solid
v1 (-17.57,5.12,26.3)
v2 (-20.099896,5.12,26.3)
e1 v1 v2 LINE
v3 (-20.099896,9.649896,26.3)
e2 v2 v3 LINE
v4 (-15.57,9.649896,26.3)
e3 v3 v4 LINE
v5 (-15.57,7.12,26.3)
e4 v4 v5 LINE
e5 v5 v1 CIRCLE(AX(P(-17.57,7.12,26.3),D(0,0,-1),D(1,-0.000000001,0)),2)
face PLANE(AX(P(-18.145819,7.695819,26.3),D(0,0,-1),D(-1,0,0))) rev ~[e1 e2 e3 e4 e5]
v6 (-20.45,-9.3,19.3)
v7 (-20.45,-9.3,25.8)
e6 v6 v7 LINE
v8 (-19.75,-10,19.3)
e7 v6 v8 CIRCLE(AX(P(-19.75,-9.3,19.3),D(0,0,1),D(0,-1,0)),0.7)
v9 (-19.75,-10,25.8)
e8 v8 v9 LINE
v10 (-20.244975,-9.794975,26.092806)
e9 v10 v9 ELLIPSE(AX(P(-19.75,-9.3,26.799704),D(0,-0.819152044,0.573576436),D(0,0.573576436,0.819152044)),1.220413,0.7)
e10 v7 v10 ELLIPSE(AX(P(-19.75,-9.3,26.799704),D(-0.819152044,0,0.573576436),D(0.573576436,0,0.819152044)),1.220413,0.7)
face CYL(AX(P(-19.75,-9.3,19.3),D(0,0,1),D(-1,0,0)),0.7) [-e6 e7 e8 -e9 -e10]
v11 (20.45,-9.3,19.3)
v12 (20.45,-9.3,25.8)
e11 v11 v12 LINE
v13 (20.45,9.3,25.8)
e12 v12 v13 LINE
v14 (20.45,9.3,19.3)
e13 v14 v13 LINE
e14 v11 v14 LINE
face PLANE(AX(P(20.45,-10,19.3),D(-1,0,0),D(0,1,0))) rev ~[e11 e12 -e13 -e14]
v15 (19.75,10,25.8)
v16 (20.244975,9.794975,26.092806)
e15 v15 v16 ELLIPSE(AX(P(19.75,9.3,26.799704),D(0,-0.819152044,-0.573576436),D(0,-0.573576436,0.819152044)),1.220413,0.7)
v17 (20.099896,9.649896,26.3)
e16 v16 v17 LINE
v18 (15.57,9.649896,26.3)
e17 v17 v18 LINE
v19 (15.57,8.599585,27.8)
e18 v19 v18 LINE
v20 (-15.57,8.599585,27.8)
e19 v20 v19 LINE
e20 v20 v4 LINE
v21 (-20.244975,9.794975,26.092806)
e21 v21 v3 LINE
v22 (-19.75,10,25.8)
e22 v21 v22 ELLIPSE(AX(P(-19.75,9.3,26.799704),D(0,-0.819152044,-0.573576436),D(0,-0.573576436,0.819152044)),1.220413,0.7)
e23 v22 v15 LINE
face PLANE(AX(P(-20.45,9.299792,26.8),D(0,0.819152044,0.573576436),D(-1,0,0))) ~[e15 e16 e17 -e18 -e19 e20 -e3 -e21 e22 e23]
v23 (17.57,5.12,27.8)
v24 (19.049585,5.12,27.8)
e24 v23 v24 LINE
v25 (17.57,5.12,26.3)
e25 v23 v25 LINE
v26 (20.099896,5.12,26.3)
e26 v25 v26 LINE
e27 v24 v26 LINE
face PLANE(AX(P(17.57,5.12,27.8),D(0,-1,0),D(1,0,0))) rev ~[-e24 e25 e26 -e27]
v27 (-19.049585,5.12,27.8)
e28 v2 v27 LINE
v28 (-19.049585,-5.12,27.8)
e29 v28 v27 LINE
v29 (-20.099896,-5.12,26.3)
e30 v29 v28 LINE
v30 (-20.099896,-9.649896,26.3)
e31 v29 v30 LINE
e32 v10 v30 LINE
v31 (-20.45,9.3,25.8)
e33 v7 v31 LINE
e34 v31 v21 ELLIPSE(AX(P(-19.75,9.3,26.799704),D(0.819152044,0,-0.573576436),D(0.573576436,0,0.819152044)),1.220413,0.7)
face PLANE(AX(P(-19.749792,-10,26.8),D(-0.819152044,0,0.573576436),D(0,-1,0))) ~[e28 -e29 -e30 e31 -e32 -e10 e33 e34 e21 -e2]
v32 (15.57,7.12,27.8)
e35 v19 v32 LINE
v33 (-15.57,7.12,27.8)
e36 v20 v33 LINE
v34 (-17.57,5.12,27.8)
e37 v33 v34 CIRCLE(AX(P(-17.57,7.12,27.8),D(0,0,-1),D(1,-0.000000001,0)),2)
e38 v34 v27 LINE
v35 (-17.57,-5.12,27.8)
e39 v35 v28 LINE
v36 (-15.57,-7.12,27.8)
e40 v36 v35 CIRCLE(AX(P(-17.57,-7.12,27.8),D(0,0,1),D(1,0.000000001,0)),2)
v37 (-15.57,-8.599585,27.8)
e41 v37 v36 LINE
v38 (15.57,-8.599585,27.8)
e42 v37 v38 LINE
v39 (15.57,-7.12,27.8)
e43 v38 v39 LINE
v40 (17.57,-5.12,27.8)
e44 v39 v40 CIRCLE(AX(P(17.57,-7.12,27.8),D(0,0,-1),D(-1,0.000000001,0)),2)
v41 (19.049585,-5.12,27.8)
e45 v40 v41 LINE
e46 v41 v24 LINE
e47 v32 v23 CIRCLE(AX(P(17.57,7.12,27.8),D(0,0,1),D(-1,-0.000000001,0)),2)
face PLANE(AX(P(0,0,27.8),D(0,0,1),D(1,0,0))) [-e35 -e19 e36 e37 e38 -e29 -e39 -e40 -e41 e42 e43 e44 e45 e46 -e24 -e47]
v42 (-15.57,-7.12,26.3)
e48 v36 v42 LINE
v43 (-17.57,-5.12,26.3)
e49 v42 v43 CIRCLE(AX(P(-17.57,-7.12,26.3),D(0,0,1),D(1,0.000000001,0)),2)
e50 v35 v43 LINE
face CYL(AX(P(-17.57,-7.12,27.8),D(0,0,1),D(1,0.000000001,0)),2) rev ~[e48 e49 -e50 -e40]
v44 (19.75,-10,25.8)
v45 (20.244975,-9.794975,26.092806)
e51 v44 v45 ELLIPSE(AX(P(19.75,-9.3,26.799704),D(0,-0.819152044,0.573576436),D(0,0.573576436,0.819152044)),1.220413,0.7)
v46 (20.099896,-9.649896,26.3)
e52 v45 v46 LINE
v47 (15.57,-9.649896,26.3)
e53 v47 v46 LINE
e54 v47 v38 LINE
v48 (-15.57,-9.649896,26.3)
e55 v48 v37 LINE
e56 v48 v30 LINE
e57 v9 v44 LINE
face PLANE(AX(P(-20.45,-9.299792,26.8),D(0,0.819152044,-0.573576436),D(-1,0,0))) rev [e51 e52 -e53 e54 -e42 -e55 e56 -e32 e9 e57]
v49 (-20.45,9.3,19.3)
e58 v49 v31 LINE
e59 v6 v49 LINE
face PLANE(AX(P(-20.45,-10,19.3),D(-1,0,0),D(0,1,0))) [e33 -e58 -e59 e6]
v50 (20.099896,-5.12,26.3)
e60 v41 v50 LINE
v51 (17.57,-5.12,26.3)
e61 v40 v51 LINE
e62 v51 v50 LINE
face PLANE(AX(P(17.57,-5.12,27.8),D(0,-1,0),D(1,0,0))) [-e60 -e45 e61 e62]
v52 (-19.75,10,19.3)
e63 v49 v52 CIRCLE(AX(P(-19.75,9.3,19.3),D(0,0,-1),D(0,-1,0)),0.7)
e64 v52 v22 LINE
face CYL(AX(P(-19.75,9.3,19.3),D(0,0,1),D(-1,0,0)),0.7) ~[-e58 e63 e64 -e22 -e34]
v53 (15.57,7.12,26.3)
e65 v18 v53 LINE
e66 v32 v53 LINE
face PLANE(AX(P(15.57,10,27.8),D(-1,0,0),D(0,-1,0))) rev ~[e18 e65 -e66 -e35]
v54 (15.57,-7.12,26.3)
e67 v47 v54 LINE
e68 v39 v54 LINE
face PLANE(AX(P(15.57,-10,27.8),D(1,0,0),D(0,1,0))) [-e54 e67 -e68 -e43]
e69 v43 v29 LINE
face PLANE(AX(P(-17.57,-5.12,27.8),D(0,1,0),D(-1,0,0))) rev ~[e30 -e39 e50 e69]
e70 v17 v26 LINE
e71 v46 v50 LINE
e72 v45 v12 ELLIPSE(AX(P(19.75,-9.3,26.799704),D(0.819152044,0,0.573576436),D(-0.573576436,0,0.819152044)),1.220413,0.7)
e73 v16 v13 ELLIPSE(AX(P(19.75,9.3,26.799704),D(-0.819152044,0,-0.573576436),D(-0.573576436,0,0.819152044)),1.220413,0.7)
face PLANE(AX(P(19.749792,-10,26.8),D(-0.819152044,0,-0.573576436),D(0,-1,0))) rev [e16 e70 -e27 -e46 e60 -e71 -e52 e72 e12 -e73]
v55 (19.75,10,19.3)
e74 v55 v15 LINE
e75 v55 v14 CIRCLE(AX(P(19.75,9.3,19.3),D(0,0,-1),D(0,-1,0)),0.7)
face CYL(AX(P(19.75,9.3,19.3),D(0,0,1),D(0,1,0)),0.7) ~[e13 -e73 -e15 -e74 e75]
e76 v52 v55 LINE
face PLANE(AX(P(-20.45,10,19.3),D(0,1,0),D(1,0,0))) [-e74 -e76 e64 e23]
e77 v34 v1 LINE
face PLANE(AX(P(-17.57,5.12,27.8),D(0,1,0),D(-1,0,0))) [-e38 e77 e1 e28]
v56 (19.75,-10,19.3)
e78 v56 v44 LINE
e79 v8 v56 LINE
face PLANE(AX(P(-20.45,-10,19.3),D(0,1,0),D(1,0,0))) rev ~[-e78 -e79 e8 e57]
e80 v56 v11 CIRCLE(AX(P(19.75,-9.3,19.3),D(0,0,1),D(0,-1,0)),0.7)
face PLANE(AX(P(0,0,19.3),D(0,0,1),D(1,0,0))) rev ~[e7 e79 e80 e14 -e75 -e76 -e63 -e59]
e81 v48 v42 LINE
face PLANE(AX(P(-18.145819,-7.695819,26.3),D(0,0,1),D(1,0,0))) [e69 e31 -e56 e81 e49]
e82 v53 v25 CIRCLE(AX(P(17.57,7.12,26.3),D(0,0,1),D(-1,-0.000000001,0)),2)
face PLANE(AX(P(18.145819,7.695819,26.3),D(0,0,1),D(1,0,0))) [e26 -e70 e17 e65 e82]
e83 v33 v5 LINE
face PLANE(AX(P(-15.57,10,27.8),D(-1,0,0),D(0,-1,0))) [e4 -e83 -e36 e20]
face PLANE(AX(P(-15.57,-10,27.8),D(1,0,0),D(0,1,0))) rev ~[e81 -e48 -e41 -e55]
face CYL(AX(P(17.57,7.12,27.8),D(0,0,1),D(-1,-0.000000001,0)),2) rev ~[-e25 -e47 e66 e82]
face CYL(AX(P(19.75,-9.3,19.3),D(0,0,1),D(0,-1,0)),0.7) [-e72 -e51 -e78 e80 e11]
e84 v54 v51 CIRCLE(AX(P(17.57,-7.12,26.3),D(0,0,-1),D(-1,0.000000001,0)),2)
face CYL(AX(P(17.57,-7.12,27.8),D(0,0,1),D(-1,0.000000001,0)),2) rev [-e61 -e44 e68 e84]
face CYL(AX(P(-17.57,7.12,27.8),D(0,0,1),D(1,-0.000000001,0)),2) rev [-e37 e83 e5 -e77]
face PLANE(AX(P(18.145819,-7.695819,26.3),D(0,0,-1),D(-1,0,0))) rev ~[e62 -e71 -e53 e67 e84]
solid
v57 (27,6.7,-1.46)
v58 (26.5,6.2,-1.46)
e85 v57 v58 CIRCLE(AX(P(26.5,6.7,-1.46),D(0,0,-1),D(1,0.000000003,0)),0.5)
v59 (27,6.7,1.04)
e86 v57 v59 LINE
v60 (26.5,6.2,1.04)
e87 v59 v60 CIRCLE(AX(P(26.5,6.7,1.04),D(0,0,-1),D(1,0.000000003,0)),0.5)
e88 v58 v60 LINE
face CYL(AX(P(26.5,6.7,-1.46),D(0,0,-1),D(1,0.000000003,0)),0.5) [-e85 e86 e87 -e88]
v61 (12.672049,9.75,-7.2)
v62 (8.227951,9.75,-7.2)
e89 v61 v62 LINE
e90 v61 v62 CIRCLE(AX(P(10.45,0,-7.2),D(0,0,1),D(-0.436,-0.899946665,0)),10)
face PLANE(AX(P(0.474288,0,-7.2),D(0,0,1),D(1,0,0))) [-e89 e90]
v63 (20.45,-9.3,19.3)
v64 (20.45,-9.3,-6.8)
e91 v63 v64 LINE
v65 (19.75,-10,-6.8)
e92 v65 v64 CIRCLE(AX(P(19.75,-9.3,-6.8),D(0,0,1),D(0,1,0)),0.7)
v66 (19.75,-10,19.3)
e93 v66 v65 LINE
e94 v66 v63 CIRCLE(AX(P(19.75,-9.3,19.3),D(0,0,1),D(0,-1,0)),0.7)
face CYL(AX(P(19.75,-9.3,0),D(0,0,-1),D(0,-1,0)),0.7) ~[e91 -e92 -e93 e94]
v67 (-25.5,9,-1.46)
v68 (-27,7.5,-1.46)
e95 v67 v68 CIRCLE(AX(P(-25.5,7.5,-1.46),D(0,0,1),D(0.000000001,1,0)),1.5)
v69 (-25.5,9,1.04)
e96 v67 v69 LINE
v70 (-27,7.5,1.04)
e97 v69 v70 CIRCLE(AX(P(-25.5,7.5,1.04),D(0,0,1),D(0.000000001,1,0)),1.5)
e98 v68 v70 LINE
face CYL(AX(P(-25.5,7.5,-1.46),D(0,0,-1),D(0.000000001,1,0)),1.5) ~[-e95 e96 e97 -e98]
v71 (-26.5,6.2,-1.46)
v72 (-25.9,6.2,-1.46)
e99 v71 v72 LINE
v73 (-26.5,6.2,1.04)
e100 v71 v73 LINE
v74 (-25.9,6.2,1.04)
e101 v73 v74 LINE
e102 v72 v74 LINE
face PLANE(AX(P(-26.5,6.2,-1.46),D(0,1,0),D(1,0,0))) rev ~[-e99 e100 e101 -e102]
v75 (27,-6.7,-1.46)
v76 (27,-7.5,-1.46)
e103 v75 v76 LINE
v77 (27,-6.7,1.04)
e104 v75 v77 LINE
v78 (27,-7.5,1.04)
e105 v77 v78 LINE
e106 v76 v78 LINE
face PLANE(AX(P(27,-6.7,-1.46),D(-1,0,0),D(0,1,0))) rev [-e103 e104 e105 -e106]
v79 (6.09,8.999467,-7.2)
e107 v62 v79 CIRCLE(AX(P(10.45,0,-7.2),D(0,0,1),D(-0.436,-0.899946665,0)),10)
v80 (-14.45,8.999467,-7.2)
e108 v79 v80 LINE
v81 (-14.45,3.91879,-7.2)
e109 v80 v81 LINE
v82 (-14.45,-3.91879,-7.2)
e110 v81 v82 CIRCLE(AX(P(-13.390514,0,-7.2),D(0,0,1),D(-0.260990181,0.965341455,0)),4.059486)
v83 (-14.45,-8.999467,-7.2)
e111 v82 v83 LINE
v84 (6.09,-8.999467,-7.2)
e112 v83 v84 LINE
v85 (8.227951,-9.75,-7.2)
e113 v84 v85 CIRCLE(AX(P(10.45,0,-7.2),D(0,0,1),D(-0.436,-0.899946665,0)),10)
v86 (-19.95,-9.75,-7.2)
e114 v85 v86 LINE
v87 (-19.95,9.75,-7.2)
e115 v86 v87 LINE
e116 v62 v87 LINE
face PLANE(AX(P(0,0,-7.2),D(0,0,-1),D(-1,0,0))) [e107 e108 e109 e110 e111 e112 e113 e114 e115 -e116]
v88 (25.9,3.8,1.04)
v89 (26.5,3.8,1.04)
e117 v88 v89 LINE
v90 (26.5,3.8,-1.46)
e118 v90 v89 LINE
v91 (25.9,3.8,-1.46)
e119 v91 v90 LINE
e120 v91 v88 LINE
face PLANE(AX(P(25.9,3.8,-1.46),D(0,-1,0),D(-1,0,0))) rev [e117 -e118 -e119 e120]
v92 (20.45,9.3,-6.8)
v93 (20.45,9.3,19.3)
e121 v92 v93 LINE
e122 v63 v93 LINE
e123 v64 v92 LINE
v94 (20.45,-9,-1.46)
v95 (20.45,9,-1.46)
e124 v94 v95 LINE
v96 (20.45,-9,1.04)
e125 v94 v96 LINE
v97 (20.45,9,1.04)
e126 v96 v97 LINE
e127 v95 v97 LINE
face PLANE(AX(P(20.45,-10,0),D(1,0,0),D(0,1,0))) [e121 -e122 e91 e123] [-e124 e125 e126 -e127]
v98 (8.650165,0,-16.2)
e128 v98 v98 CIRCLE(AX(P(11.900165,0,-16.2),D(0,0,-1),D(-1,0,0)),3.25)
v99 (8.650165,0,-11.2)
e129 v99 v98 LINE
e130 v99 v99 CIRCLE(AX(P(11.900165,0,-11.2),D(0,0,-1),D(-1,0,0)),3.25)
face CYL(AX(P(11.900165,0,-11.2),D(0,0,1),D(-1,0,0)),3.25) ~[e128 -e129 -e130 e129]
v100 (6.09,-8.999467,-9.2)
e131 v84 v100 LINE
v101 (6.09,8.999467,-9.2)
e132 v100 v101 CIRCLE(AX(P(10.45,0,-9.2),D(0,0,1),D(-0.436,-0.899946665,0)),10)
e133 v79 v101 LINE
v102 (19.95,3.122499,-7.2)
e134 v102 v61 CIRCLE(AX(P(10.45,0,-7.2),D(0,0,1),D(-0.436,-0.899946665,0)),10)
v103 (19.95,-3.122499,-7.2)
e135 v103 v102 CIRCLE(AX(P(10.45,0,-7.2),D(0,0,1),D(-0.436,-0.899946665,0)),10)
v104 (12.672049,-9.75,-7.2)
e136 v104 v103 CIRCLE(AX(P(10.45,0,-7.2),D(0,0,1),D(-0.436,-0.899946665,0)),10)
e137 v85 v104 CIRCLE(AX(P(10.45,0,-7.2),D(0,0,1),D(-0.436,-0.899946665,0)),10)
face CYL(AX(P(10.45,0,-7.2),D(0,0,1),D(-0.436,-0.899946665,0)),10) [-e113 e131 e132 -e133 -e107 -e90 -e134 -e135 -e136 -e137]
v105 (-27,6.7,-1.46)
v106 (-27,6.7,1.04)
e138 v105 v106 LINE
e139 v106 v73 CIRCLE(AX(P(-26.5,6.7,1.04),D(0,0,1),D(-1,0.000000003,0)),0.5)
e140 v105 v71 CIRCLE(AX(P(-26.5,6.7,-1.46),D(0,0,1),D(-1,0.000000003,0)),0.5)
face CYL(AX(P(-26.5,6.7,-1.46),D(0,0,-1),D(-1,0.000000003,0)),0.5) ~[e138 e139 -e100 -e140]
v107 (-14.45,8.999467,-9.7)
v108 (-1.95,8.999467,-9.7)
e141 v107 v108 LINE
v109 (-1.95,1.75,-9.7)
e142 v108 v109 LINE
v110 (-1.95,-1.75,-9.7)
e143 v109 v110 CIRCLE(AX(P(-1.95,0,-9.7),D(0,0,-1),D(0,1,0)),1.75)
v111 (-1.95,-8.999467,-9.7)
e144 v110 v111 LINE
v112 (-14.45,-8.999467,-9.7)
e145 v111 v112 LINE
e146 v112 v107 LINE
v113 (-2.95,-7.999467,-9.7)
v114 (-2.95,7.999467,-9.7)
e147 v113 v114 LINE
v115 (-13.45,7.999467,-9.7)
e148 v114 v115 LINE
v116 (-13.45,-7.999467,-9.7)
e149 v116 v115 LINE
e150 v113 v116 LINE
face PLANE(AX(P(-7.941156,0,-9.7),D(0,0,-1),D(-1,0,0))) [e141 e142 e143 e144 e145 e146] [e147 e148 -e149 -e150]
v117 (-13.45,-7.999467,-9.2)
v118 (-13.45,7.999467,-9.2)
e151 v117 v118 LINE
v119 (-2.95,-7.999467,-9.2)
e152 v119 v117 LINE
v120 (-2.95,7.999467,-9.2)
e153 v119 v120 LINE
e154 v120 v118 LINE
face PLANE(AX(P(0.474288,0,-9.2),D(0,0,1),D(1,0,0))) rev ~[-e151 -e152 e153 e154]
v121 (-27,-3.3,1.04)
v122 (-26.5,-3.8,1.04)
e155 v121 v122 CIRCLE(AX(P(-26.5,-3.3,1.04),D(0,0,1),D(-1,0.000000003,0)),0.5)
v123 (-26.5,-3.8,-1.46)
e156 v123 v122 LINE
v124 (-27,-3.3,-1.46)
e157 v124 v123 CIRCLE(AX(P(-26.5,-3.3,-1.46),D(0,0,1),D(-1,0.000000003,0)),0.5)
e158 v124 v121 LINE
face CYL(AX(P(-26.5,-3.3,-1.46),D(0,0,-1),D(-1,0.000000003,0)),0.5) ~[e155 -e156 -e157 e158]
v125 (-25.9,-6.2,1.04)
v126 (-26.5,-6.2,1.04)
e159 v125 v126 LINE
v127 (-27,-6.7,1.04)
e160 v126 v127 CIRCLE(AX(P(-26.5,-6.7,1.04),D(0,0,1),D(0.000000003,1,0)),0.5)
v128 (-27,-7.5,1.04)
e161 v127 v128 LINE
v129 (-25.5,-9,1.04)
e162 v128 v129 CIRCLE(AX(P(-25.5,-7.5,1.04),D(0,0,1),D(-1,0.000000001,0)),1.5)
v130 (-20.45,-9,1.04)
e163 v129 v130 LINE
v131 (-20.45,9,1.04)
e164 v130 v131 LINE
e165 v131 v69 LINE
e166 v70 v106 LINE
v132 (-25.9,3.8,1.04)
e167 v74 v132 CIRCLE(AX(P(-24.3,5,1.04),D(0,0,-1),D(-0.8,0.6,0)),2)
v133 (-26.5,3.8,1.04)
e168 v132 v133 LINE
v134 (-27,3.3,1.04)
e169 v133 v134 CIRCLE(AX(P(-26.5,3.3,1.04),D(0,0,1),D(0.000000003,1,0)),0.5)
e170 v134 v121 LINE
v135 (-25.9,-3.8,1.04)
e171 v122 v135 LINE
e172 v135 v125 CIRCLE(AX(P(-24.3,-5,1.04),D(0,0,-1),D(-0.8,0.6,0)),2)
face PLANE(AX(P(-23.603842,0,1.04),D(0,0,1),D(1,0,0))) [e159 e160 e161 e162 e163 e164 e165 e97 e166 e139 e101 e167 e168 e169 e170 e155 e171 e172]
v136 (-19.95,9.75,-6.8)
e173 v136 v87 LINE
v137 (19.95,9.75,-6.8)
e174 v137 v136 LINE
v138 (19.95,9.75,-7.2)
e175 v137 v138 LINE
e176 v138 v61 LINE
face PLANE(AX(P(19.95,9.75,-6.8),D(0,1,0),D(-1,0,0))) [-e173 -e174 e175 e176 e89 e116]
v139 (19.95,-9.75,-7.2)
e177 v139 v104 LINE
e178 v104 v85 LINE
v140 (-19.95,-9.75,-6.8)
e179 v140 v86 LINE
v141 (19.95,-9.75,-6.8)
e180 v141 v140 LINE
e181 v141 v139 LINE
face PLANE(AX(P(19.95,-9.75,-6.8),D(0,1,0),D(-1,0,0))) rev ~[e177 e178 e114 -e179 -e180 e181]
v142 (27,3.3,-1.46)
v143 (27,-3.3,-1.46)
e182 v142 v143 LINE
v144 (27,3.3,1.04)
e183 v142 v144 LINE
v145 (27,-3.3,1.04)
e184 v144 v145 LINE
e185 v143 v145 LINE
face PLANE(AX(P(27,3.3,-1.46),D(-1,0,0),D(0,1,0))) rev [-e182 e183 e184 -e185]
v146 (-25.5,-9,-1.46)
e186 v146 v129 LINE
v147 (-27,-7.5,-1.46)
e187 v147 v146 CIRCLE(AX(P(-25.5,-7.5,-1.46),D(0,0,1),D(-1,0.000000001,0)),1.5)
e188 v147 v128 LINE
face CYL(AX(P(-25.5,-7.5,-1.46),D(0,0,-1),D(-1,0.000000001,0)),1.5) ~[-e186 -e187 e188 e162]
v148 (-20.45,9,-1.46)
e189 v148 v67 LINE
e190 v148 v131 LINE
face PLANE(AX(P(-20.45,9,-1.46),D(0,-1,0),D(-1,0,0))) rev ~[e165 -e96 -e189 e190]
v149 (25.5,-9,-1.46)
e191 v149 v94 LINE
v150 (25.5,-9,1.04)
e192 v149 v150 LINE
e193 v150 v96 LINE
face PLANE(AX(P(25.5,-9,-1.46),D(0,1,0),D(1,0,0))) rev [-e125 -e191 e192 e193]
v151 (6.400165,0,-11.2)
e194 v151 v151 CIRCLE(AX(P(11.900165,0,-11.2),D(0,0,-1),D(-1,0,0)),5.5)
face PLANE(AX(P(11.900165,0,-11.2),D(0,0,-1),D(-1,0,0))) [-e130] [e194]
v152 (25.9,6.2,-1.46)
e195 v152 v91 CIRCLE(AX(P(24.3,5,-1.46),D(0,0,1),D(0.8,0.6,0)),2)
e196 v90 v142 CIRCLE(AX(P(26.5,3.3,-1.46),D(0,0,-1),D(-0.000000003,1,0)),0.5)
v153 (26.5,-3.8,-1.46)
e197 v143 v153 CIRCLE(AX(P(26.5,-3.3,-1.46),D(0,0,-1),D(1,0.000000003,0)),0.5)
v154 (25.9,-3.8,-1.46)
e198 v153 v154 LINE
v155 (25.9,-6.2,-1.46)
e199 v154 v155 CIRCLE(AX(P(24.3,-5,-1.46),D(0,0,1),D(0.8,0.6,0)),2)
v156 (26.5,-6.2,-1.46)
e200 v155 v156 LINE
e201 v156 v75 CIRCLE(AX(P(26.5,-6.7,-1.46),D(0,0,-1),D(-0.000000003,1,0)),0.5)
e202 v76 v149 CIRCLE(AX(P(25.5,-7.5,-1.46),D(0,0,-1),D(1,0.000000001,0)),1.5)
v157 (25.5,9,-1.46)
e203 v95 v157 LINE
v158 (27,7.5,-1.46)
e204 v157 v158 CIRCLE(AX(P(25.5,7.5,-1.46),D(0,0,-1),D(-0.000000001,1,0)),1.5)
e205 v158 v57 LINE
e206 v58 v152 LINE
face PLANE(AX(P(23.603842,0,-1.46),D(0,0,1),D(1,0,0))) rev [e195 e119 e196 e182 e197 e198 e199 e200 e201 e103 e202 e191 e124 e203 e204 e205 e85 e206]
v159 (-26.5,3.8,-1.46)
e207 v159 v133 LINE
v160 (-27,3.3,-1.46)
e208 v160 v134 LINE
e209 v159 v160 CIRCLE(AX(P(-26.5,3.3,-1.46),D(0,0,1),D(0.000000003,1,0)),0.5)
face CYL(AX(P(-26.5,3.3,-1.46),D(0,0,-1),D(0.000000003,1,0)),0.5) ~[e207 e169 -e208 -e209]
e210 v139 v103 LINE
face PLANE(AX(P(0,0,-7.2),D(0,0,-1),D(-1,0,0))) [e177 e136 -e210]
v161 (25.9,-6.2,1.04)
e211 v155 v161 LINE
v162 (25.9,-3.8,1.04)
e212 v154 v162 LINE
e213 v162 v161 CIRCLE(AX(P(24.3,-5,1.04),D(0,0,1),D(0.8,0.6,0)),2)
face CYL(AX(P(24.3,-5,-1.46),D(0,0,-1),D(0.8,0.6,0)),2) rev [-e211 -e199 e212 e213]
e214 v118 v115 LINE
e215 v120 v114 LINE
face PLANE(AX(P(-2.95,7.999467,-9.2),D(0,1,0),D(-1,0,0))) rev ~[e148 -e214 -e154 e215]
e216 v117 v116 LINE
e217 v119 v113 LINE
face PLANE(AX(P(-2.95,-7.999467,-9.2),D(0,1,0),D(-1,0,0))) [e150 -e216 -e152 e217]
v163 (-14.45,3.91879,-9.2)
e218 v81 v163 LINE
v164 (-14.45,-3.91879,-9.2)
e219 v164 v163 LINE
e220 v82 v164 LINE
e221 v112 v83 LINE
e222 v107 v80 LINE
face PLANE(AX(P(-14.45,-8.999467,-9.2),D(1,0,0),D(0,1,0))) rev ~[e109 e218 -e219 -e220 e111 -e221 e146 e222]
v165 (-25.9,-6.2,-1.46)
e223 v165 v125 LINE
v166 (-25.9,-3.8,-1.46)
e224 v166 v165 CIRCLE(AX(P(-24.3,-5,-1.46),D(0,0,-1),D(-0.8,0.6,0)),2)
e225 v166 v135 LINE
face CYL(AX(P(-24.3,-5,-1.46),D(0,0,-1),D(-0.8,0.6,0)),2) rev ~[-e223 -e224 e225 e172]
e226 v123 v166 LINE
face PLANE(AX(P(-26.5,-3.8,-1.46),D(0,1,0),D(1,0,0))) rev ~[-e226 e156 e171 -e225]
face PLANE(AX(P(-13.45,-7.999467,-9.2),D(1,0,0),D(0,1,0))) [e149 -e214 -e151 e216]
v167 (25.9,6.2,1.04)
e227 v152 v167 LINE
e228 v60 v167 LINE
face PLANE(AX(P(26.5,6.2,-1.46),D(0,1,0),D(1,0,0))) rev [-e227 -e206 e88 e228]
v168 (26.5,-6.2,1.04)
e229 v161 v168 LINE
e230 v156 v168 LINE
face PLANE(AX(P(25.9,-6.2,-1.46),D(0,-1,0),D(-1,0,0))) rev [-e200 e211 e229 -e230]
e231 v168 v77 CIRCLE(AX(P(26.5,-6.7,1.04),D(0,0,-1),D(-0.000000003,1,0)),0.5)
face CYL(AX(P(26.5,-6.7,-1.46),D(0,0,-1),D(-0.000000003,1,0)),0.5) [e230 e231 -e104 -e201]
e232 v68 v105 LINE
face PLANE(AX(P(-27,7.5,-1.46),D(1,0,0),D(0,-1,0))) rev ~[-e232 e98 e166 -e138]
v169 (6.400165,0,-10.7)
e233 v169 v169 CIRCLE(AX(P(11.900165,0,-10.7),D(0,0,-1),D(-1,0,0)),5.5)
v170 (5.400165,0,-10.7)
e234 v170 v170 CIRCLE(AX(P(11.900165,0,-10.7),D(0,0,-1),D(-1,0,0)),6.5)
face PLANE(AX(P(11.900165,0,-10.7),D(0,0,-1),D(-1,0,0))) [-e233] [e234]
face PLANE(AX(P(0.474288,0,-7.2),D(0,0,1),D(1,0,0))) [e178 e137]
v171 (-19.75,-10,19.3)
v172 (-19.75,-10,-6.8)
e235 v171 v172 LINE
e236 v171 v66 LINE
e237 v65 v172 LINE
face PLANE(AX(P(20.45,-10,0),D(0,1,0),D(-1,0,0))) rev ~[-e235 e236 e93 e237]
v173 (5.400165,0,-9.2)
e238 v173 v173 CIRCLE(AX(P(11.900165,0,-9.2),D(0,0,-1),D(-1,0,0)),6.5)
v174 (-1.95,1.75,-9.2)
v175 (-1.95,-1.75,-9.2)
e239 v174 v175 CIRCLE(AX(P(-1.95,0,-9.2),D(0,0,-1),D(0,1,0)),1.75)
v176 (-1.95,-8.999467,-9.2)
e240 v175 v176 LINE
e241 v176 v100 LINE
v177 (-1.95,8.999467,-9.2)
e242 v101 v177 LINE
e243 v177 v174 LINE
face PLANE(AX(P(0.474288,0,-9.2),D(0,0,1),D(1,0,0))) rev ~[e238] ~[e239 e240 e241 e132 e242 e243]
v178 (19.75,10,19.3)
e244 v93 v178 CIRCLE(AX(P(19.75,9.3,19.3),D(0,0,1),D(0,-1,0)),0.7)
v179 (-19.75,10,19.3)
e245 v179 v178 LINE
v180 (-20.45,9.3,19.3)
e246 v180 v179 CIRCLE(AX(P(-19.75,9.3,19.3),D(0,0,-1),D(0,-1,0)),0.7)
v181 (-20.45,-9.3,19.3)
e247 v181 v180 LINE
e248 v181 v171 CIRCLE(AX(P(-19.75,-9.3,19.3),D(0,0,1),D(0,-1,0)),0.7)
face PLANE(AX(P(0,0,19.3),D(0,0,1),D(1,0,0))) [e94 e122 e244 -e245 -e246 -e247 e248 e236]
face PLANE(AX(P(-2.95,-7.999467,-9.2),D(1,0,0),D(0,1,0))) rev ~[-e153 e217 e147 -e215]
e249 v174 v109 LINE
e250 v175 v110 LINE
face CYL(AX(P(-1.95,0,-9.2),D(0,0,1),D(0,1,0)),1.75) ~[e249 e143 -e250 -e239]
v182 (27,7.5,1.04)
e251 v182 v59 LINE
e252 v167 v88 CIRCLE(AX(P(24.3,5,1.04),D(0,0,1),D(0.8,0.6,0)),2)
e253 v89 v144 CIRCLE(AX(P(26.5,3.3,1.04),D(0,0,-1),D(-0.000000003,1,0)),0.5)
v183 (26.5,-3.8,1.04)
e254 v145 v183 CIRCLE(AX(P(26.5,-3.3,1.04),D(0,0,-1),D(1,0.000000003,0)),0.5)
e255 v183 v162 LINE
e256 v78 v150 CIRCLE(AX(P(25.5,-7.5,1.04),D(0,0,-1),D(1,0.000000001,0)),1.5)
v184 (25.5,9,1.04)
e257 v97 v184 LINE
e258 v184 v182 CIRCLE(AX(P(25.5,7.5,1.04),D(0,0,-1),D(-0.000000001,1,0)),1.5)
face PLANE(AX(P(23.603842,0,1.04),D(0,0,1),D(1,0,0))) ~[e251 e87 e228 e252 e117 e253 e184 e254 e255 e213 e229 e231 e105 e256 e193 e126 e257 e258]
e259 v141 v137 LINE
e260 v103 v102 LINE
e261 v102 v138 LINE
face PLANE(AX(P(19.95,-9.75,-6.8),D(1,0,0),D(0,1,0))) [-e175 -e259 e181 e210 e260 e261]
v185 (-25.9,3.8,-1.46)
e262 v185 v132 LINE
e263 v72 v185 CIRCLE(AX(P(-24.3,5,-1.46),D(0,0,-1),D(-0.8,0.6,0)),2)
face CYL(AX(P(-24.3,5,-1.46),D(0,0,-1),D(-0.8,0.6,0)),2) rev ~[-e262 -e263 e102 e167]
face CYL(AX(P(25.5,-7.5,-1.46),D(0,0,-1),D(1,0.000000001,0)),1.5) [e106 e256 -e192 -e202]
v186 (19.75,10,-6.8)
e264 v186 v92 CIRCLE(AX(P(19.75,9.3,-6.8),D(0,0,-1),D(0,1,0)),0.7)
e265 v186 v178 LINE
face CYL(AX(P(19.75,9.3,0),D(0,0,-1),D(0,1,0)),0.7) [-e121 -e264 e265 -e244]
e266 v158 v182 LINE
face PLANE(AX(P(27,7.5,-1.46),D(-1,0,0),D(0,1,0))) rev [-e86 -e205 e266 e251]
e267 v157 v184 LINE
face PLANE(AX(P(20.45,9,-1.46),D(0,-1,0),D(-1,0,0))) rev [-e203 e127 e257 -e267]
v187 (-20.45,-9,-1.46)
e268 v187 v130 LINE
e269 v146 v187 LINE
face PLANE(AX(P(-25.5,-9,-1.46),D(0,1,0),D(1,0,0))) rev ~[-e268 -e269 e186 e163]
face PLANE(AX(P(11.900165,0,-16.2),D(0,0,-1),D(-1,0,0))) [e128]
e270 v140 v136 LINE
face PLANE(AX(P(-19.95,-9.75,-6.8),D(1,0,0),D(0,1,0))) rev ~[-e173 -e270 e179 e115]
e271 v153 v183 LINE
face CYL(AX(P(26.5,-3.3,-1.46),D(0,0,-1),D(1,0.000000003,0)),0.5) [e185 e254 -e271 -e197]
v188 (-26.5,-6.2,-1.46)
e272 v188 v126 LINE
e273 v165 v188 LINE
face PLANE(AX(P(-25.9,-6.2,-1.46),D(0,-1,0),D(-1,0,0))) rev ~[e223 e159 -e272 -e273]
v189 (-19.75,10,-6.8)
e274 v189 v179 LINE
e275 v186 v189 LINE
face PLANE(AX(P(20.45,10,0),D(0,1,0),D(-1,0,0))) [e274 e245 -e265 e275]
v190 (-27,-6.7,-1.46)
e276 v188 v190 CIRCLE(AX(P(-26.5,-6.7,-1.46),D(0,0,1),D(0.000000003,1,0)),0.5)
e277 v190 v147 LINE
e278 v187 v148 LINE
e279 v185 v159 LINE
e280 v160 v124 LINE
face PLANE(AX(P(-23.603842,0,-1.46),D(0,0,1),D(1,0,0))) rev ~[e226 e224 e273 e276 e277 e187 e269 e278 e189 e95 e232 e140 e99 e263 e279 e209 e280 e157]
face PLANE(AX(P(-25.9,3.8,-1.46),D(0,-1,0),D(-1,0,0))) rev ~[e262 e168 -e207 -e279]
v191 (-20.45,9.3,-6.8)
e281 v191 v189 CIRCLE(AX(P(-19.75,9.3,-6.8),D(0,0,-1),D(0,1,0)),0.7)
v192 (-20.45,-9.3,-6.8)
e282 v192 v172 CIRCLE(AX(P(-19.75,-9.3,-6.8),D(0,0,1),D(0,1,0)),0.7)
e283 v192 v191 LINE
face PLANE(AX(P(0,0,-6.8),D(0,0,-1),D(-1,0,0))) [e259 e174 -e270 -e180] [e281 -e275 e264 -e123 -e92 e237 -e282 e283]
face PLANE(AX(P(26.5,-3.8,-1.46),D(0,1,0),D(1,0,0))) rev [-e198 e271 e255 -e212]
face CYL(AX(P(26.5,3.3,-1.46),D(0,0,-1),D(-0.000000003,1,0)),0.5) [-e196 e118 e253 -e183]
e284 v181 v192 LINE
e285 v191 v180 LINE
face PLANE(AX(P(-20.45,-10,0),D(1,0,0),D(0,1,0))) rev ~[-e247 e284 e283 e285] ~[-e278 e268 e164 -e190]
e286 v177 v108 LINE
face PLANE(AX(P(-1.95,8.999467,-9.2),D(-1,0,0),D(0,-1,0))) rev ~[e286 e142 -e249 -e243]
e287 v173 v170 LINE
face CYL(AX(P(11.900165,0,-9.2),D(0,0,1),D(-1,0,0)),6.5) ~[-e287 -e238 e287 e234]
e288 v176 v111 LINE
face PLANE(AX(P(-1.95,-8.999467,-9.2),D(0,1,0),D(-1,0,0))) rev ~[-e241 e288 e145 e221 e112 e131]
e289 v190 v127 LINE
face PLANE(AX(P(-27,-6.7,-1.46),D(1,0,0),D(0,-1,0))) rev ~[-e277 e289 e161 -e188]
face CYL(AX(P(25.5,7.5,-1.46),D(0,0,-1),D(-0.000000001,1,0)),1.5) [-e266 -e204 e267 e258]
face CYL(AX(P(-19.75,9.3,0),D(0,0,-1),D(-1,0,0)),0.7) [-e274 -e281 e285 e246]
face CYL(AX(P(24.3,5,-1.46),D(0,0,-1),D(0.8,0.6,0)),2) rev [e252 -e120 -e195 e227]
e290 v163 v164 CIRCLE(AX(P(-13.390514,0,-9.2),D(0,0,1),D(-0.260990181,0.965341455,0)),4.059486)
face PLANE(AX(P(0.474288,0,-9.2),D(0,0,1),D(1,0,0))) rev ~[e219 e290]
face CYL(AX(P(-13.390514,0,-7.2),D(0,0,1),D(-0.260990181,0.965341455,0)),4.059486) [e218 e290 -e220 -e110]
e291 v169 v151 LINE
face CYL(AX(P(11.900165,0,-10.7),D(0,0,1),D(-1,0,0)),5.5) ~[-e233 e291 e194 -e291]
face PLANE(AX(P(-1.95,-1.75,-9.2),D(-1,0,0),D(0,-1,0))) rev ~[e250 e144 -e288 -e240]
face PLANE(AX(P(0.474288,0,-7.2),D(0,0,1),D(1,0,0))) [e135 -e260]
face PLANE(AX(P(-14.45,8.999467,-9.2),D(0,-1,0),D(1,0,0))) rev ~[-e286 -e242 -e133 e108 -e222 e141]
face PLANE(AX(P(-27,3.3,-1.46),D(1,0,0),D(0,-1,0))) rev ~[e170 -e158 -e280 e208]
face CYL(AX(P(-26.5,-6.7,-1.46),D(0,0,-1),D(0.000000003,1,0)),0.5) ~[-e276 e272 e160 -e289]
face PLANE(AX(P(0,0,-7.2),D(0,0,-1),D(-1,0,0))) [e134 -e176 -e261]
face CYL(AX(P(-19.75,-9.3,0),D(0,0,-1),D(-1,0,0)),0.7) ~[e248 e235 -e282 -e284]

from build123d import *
from OCP.BRepFilletAPI import BRepFilletAPI_MakeChamfer

# Parameters (mm, degrees)
SKETCH1_W            = 40.9
SKETCH1_H            = 20
BOSS_EXTRUDE1_DEPTH  = 19.3
SKETCH2_W            = 40.9
SKETCH2_H            = 20
BOSS_EXTRUDE2_DEPTH  = 6.8
SKETCH3_W            = 40.9
SKETCH3_H            = 20
BOSS_EXTRUDE3_DEPTH  = 8.5
CHAMFER1_SIZE        = 2
CHAMFER1_SIZE2       = 1.400415076
CUT_EXTRUDE1_DEPTH   = 1.5
SKETCH5_W            = 39.9
SKETCH5_H            = 19.5
BOSS_EXTRUDE4_DEPTH  = 0.4
BOSS_EXTRUDE5_DEPTH  = 2
SKETCH8_R            = 6.5
BOSS_EXTRUDE6_DEPTH  = 1.5
SKETCH9_R            = 5.5
BOSS_EXTRUDE7_DEPTH  = 0.5
SKETCH10_R           = 3.25
BOSS_EXTRUDE8_DEPTH  = 5
SKETCH11_W           = 10.5
SKETCH11_H           = 15.998933302
BOSS_EXTRUDE9_DEPTH  = 0.5
FILLET1_R            = 0.7
FILLET2_R            = 0.7
FILLET3_R            = 0.7
BOSS_EXTRUDE10_START = -5.74
BOSS_EXTRUDE10_DEPTH = 2.5


with BuildPart() as part:
    # Sketch1 → Boss-Extrude1 (new body)
    with BuildSketch(Plane.XY):
        Rectangle(SKETCH1_W, SKETCH1_H)
    extrude(amount=BOSS_EXTRUDE1_DEPTH)

    # Fillet1
    fillet1_edges = [part.edges().sort_by_distance(p)[0] for p in [
        (-20.45, 10, 9.65),
        (20.45, 10, 9.65),
        (20.45, -10, 9.65),
        (-20.45, -10, 9.65),
    ]]
    fillet(fillet1_edges, radius=FILLET1_R)



with BuildPart() as body_2:
    # Sketch2 → Boss-Extrude2 (new body)
    with BuildSketch(Plane(origin=(0, 0, 0), x_dir=(-1, 0, 0), z_dir=(0, 0, -1))):
        Rectangle(SKETCH2_W, SKETCH2_H)
    extrude(amount=BOSS_EXTRUDE2_DEPTH)

    # Sketch5 → Boss-Extrude4 (add)
    with BuildSketch(Plane(origin=(0, 0, -6.8), x_dir=(-1, 0, 0), z_dir=(0, 0, -1))):
        Rectangle(SKETCH5_W, SKETCH5_H)
    extrude(amount=BOSS_EXTRUDE4_DEPTH)

    # Sketch7 → Boss-Extrude5 (add)
    with BuildSketch(Plane(origin=(0, 0, -7.2), x_dir=(-1, 0, 0), z_dir=(0, 0, -1))):
        with BuildLine():
            Line((-6.09, 8.999466651), (14.45, 8.999466651))
            Line((14.45, 8.999466651), (14.45, 3.918790103))
            ThreePointArc((14.45, 3.918790103), (17.45, 0), (14.45, -3.918790103))
            Line((14.45, -3.918790103), (14.45, -8.999466651))
            Line((14.45, -8.999466651), (-6.09, -8.999466651))
            ThreePointArc((-6.09, -8.999466651), (-20.45, 0), (-6.09, 8.999466651))
        make_face()
    extrude(amount=BOSS_EXTRUDE5_DEPTH)

    # Sketch8 → Boss-Extrude6 (add)
    with BuildSketch(Plane(origin=(0, 0, -9.2), x_dir=(-1, 0, 0), z_dir=(0, 0, -1))):
        with Locations((-11.900165179, 0)):
            Circle(SKETCH8_R)
    extrude(amount=BOSS_EXTRUDE6_DEPTH)

    # Sketch9 → Boss-Extrude7 (add)
    with BuildSketch(Plane(origin=(0, 0, -10.7), x_dir=(-1, 0, 0), z_dir=(0, 0, -1))):
        with Locations((-11.900165179, 0)):
            Circle(SKETCH9_R)
    extrude(amount=BOSS_EXTRUDE7_DEPTH)

    # Sketch10 → Boss-Extrude8 (add)
    with BuildSketch(Plane(origin=(0, 0, -11.2), x_dir=(-1, 0, 0), z_dir=(0, 0, -1))):
        with Locations((-11.900165179, 0)):
            Circle(SKETCH10_R)
    extrude(amount=BOSS_EXTRUDE8_DEPTH)

    # Sketch11 → Boss-Extrude9 (add)
    with BuildSketch(Plane(origin=(0, 0, -9.2), x_dir=(-1, 0, 0), z_dir=(0, 0, -1))):
        with BuildLine():
            Line((14.45, 8.999466651), (1.95, 8.999466651))
            Line((1.95, 8.999466651), (1.95, 1.75))
            ThreePointArc((1.95, 1.75), (0.2, 0), (1.95, -1.75))
            Line((1.95, -1.75), (1.95, -8.999466651))
            Line((1.95, -8.999466651), (14.45, -8.999466651))
            Line((14.45, -8.999466651), (14.45, 8.999466651))
        make_face()
        with Locations((8.2, 0)):
            Rectangle(SKETCH11_W, SKETCH11_H, mode=Mode.SUBTRACT)
    extrude(amount=BOSS_EXTRUDE9_DEPTH)

    # Fillet2
    fillet2_edges = [body_2.edges().sort_by_distance(p)[0] for p in [
        (20.45, -10, -3.4),
        (20.45, 10, -3.4),
        (-20.45, 10, -3.4),
        (-20.45, -10, -3.4),
    ]]
    fillet(fillet2_edges, radius=FILLET2_R)


with BuildPart() as body_3:
    # Sketch3 → Boss-Extrude3 (new body)
    with BuildSketch(Plane.XY.offset(19.3)):
        Rectangle(SKETCH3_W, SKETCH3_H)
    extrude(amount=BOSS_EXTRUDE3_DEPTH)

    # Chamfer1: one chamfer whose edges measure the first distance from different faces: ONE call of the kernel's chamfer builder (chamfer() names one face for all edges)
    chamfer1_edges_1 = [body_3.edges().sort_by_distance(p)[0] for p in [
        (0, -10, 27.8),
    ]]
    chamfer1_side_1 = [body_3.faces().sort_by_distance(p)[0] for p in [
        (0, -10, 23.55),
    ]]
    chamfer1_edges_2 = [body_3.edges().sort_by_distance(p)[0] for p in [
        (20.45, 0, 27.8),
    ]]
    chamfer1_side_2 = [body_3.faces().sort_by_distance(p)[0] for p in [
        (20.45, 0, 23.55),
    ]]
    chamfer1_edges_3 = [body_3.edges().sort_by_distance(p)[0] for p in [
        (0, 10, 27.8),
    ]]
    chamfer1_side_3 = [body_3.faces().sort_by_distance(p)[0] for p in [
        (0, 10, 23.55),
    ]]
    chamfer1_edges_4 = [body_3.edges().sort_by_distance(p)[0] for p in [
        (-20.45, 0, 27.8),
    ]]
    chamfer1_side_4 = [body_3.faces().sort_by_distance(p)[0] for p in [
        (-20.45, 0, 23.55),
    ]]
    chamfer1 = BRepFilletAPI_MakeChamfer(body_3.part.solid().wrapped)
    for e in chamfer1_edges_1:
        chamfer1.Add(CHAMFER1_SIZE, CHAMFER1_SIZE2, e.wrapped, chamfer1_side_1[0].wrapped)  # the first distance lies on this face
    for e in chamfer1_edges_2:
        chamfer1.Add(CHAMFER1_SIZE, CHAMFER1_SIZE2, e.wrapped, chamfer1_side_2[0].wrapped)  # the first distance lies on this face
    for e in chamfer1_edges_3:
        chamfer1.Add(CHAMFER1_SIZE, CHAMFER1_SIZE2, e.wrapped, chamfer1_side_3[0].wrapped)  # the first distance lies on this face
    for e in chamfer1_edges_4:
        chamfer1.Add(CHAMFER1_SIZE, CHAMFER1_SIZE2, e.wrapped, chamfer1_side_4[0].wrapped)  # the first distance lies on this face
    add(Compound.cast(chamfer1.Shape()), mode=Mode.REPLACE)

    # Sketch4 → Cut-Extrude1 (cut)
    with BuildSketch(Plane.XY.offset(27.8)):
        with BuildLine():
            Line((-20.45, 10), (-15.57, 10))
            Line((-15.57, 10), (-15.57, 7.12))
            ThreePointArc((-15.57, 7.12), (-16.155786438, 5.705786438), (-17.57, 5.12))
            Line((-17.57, 5.12), (-20.45, 5.12))
            Line((-20.45, 5.12), (-20.45, 10))
        make_face()
        with BuildLine():
            Line((15.57, 10), (15.57, 7.12))
            ThreePointArc((15.57, 7.12), (16.155786438, 5.705786438), (17.57, 5.12))
            Line((17.57, 5.12), (20.45, 5.12))
            Line((20.45, 5.12), (20.45, 10))
            Line((20.45, 10), (15.57, 10))
        make_face()
        with BuildLine():
            Line((-15.57, -10), (-15.57, -7.12))
            ThreePointArc((-15.57, -7.12), (-16.155786438, -5.705786438), (-17.57, -5.12))
            Line((-17.57, -5.12), (-20.45, -5.12))
            Line((-20.45, -5.12), (-20.45, -10))
            Line((-20.45, -10), (-15.57, -10))
        make_face()
        with BuildLine():
            Line((20.45, -10), (15.57, -10))
            Line((15.57, -10), (15.57, -7.12))
            ThreePointArc((15.57, -7.12), (16.155786438, -5.705786438), (17.57, -5.12))
            Line((17.57, -5.12), (20.45, -5.12))
            Line((20.45, -5.12), (20.45, -10))
        make_face()
    extrude(amount=-CUT_EXTRUDE1_DEPTH, mode=Mode.SUBTRACT)

    # Fillet3
    fillet3_edges = [body_3.edges().sort_by_distance(p)[0] for p in [
        (20.45, 10, 22.55),
        (20.45, -10, 22.55),
        (-20.45, -10, 22.55),
        (-20.45, 10, 22.55),
    ]]
    fillet(fillet3_edges, radius=FILLET3_R)


with BuildPart() as part_1:
    add(part.part)

    add(body_2.part)  # Boss-Extrude10 merges body 2
    # Sketch12 → Boss-Extrude10 (add)
    with BuildSketch(Plane(origin=(0, 0, -7.2), x_dir=(-1, 0, 0), z_dir=(0, 0, -1)).offset(BOSS_EXTRUDE10_START)):
        with BuildLine():
            Line((20.45, 9), (25.5, 9))
            ThreePointArc((25.5, 9), (26.560660172, 8.560660172), (27, 7.5))
            Line((27, 7.5), (27, 6.7))
            ThreePointArc((27, 6.7), (26.853553391, 6.346446609), (26.5, 6.2))
            Line((26.5, 6.2), (25.9, 6.2))
            ThreePointArc((25.9, 6.2), (22.3, 5), (25.9, 3.8))
            Line((25.9, 3.8), (26.5, 3.8))
            ThreePointArc((26.5, 3.8), (26.853553391, 3.653553391), (27, 3.3))
            Line((27, 3.3), (27, -3.3))
            ThreePointArc((27, -3.3), (26.853553391, -3.653553391), (26.5, -3.8))
            Line((26.5, -3.8), (25.9, -3.8))
            ThreePointArc((25.9, -3.8), (22.3, -5), (25.9, -6.2))
            Line((25.9, -6.2), (26.5, -6.2))
            ThreePointArc((26.5, -6.2), (26.853553391, -6.346446609), (27, -6.7))
            Line((27, -6.7), (27, -7.5))
            ThreePointArc((27, -7.5), (26.560660172, -8.560660172), (25.5, -9))
            Line((25.5, -9), (20.45, -9))
            Line((20.45, -9), (20.45, 9))
        make_face()
    boss_extrude10 = extrude(amount=-BOSS_EXTRUDE10_DEPTH)

    # Mirror1: Boss-Extrude10 across plane
    add(boss_extrude10.mirror(Plane(origin=(0, 0, 0), x_dir=(0, 0, 1), z_dir=(1, 0, 0))))


solid = Compound([body_3.part, part_1.part])
